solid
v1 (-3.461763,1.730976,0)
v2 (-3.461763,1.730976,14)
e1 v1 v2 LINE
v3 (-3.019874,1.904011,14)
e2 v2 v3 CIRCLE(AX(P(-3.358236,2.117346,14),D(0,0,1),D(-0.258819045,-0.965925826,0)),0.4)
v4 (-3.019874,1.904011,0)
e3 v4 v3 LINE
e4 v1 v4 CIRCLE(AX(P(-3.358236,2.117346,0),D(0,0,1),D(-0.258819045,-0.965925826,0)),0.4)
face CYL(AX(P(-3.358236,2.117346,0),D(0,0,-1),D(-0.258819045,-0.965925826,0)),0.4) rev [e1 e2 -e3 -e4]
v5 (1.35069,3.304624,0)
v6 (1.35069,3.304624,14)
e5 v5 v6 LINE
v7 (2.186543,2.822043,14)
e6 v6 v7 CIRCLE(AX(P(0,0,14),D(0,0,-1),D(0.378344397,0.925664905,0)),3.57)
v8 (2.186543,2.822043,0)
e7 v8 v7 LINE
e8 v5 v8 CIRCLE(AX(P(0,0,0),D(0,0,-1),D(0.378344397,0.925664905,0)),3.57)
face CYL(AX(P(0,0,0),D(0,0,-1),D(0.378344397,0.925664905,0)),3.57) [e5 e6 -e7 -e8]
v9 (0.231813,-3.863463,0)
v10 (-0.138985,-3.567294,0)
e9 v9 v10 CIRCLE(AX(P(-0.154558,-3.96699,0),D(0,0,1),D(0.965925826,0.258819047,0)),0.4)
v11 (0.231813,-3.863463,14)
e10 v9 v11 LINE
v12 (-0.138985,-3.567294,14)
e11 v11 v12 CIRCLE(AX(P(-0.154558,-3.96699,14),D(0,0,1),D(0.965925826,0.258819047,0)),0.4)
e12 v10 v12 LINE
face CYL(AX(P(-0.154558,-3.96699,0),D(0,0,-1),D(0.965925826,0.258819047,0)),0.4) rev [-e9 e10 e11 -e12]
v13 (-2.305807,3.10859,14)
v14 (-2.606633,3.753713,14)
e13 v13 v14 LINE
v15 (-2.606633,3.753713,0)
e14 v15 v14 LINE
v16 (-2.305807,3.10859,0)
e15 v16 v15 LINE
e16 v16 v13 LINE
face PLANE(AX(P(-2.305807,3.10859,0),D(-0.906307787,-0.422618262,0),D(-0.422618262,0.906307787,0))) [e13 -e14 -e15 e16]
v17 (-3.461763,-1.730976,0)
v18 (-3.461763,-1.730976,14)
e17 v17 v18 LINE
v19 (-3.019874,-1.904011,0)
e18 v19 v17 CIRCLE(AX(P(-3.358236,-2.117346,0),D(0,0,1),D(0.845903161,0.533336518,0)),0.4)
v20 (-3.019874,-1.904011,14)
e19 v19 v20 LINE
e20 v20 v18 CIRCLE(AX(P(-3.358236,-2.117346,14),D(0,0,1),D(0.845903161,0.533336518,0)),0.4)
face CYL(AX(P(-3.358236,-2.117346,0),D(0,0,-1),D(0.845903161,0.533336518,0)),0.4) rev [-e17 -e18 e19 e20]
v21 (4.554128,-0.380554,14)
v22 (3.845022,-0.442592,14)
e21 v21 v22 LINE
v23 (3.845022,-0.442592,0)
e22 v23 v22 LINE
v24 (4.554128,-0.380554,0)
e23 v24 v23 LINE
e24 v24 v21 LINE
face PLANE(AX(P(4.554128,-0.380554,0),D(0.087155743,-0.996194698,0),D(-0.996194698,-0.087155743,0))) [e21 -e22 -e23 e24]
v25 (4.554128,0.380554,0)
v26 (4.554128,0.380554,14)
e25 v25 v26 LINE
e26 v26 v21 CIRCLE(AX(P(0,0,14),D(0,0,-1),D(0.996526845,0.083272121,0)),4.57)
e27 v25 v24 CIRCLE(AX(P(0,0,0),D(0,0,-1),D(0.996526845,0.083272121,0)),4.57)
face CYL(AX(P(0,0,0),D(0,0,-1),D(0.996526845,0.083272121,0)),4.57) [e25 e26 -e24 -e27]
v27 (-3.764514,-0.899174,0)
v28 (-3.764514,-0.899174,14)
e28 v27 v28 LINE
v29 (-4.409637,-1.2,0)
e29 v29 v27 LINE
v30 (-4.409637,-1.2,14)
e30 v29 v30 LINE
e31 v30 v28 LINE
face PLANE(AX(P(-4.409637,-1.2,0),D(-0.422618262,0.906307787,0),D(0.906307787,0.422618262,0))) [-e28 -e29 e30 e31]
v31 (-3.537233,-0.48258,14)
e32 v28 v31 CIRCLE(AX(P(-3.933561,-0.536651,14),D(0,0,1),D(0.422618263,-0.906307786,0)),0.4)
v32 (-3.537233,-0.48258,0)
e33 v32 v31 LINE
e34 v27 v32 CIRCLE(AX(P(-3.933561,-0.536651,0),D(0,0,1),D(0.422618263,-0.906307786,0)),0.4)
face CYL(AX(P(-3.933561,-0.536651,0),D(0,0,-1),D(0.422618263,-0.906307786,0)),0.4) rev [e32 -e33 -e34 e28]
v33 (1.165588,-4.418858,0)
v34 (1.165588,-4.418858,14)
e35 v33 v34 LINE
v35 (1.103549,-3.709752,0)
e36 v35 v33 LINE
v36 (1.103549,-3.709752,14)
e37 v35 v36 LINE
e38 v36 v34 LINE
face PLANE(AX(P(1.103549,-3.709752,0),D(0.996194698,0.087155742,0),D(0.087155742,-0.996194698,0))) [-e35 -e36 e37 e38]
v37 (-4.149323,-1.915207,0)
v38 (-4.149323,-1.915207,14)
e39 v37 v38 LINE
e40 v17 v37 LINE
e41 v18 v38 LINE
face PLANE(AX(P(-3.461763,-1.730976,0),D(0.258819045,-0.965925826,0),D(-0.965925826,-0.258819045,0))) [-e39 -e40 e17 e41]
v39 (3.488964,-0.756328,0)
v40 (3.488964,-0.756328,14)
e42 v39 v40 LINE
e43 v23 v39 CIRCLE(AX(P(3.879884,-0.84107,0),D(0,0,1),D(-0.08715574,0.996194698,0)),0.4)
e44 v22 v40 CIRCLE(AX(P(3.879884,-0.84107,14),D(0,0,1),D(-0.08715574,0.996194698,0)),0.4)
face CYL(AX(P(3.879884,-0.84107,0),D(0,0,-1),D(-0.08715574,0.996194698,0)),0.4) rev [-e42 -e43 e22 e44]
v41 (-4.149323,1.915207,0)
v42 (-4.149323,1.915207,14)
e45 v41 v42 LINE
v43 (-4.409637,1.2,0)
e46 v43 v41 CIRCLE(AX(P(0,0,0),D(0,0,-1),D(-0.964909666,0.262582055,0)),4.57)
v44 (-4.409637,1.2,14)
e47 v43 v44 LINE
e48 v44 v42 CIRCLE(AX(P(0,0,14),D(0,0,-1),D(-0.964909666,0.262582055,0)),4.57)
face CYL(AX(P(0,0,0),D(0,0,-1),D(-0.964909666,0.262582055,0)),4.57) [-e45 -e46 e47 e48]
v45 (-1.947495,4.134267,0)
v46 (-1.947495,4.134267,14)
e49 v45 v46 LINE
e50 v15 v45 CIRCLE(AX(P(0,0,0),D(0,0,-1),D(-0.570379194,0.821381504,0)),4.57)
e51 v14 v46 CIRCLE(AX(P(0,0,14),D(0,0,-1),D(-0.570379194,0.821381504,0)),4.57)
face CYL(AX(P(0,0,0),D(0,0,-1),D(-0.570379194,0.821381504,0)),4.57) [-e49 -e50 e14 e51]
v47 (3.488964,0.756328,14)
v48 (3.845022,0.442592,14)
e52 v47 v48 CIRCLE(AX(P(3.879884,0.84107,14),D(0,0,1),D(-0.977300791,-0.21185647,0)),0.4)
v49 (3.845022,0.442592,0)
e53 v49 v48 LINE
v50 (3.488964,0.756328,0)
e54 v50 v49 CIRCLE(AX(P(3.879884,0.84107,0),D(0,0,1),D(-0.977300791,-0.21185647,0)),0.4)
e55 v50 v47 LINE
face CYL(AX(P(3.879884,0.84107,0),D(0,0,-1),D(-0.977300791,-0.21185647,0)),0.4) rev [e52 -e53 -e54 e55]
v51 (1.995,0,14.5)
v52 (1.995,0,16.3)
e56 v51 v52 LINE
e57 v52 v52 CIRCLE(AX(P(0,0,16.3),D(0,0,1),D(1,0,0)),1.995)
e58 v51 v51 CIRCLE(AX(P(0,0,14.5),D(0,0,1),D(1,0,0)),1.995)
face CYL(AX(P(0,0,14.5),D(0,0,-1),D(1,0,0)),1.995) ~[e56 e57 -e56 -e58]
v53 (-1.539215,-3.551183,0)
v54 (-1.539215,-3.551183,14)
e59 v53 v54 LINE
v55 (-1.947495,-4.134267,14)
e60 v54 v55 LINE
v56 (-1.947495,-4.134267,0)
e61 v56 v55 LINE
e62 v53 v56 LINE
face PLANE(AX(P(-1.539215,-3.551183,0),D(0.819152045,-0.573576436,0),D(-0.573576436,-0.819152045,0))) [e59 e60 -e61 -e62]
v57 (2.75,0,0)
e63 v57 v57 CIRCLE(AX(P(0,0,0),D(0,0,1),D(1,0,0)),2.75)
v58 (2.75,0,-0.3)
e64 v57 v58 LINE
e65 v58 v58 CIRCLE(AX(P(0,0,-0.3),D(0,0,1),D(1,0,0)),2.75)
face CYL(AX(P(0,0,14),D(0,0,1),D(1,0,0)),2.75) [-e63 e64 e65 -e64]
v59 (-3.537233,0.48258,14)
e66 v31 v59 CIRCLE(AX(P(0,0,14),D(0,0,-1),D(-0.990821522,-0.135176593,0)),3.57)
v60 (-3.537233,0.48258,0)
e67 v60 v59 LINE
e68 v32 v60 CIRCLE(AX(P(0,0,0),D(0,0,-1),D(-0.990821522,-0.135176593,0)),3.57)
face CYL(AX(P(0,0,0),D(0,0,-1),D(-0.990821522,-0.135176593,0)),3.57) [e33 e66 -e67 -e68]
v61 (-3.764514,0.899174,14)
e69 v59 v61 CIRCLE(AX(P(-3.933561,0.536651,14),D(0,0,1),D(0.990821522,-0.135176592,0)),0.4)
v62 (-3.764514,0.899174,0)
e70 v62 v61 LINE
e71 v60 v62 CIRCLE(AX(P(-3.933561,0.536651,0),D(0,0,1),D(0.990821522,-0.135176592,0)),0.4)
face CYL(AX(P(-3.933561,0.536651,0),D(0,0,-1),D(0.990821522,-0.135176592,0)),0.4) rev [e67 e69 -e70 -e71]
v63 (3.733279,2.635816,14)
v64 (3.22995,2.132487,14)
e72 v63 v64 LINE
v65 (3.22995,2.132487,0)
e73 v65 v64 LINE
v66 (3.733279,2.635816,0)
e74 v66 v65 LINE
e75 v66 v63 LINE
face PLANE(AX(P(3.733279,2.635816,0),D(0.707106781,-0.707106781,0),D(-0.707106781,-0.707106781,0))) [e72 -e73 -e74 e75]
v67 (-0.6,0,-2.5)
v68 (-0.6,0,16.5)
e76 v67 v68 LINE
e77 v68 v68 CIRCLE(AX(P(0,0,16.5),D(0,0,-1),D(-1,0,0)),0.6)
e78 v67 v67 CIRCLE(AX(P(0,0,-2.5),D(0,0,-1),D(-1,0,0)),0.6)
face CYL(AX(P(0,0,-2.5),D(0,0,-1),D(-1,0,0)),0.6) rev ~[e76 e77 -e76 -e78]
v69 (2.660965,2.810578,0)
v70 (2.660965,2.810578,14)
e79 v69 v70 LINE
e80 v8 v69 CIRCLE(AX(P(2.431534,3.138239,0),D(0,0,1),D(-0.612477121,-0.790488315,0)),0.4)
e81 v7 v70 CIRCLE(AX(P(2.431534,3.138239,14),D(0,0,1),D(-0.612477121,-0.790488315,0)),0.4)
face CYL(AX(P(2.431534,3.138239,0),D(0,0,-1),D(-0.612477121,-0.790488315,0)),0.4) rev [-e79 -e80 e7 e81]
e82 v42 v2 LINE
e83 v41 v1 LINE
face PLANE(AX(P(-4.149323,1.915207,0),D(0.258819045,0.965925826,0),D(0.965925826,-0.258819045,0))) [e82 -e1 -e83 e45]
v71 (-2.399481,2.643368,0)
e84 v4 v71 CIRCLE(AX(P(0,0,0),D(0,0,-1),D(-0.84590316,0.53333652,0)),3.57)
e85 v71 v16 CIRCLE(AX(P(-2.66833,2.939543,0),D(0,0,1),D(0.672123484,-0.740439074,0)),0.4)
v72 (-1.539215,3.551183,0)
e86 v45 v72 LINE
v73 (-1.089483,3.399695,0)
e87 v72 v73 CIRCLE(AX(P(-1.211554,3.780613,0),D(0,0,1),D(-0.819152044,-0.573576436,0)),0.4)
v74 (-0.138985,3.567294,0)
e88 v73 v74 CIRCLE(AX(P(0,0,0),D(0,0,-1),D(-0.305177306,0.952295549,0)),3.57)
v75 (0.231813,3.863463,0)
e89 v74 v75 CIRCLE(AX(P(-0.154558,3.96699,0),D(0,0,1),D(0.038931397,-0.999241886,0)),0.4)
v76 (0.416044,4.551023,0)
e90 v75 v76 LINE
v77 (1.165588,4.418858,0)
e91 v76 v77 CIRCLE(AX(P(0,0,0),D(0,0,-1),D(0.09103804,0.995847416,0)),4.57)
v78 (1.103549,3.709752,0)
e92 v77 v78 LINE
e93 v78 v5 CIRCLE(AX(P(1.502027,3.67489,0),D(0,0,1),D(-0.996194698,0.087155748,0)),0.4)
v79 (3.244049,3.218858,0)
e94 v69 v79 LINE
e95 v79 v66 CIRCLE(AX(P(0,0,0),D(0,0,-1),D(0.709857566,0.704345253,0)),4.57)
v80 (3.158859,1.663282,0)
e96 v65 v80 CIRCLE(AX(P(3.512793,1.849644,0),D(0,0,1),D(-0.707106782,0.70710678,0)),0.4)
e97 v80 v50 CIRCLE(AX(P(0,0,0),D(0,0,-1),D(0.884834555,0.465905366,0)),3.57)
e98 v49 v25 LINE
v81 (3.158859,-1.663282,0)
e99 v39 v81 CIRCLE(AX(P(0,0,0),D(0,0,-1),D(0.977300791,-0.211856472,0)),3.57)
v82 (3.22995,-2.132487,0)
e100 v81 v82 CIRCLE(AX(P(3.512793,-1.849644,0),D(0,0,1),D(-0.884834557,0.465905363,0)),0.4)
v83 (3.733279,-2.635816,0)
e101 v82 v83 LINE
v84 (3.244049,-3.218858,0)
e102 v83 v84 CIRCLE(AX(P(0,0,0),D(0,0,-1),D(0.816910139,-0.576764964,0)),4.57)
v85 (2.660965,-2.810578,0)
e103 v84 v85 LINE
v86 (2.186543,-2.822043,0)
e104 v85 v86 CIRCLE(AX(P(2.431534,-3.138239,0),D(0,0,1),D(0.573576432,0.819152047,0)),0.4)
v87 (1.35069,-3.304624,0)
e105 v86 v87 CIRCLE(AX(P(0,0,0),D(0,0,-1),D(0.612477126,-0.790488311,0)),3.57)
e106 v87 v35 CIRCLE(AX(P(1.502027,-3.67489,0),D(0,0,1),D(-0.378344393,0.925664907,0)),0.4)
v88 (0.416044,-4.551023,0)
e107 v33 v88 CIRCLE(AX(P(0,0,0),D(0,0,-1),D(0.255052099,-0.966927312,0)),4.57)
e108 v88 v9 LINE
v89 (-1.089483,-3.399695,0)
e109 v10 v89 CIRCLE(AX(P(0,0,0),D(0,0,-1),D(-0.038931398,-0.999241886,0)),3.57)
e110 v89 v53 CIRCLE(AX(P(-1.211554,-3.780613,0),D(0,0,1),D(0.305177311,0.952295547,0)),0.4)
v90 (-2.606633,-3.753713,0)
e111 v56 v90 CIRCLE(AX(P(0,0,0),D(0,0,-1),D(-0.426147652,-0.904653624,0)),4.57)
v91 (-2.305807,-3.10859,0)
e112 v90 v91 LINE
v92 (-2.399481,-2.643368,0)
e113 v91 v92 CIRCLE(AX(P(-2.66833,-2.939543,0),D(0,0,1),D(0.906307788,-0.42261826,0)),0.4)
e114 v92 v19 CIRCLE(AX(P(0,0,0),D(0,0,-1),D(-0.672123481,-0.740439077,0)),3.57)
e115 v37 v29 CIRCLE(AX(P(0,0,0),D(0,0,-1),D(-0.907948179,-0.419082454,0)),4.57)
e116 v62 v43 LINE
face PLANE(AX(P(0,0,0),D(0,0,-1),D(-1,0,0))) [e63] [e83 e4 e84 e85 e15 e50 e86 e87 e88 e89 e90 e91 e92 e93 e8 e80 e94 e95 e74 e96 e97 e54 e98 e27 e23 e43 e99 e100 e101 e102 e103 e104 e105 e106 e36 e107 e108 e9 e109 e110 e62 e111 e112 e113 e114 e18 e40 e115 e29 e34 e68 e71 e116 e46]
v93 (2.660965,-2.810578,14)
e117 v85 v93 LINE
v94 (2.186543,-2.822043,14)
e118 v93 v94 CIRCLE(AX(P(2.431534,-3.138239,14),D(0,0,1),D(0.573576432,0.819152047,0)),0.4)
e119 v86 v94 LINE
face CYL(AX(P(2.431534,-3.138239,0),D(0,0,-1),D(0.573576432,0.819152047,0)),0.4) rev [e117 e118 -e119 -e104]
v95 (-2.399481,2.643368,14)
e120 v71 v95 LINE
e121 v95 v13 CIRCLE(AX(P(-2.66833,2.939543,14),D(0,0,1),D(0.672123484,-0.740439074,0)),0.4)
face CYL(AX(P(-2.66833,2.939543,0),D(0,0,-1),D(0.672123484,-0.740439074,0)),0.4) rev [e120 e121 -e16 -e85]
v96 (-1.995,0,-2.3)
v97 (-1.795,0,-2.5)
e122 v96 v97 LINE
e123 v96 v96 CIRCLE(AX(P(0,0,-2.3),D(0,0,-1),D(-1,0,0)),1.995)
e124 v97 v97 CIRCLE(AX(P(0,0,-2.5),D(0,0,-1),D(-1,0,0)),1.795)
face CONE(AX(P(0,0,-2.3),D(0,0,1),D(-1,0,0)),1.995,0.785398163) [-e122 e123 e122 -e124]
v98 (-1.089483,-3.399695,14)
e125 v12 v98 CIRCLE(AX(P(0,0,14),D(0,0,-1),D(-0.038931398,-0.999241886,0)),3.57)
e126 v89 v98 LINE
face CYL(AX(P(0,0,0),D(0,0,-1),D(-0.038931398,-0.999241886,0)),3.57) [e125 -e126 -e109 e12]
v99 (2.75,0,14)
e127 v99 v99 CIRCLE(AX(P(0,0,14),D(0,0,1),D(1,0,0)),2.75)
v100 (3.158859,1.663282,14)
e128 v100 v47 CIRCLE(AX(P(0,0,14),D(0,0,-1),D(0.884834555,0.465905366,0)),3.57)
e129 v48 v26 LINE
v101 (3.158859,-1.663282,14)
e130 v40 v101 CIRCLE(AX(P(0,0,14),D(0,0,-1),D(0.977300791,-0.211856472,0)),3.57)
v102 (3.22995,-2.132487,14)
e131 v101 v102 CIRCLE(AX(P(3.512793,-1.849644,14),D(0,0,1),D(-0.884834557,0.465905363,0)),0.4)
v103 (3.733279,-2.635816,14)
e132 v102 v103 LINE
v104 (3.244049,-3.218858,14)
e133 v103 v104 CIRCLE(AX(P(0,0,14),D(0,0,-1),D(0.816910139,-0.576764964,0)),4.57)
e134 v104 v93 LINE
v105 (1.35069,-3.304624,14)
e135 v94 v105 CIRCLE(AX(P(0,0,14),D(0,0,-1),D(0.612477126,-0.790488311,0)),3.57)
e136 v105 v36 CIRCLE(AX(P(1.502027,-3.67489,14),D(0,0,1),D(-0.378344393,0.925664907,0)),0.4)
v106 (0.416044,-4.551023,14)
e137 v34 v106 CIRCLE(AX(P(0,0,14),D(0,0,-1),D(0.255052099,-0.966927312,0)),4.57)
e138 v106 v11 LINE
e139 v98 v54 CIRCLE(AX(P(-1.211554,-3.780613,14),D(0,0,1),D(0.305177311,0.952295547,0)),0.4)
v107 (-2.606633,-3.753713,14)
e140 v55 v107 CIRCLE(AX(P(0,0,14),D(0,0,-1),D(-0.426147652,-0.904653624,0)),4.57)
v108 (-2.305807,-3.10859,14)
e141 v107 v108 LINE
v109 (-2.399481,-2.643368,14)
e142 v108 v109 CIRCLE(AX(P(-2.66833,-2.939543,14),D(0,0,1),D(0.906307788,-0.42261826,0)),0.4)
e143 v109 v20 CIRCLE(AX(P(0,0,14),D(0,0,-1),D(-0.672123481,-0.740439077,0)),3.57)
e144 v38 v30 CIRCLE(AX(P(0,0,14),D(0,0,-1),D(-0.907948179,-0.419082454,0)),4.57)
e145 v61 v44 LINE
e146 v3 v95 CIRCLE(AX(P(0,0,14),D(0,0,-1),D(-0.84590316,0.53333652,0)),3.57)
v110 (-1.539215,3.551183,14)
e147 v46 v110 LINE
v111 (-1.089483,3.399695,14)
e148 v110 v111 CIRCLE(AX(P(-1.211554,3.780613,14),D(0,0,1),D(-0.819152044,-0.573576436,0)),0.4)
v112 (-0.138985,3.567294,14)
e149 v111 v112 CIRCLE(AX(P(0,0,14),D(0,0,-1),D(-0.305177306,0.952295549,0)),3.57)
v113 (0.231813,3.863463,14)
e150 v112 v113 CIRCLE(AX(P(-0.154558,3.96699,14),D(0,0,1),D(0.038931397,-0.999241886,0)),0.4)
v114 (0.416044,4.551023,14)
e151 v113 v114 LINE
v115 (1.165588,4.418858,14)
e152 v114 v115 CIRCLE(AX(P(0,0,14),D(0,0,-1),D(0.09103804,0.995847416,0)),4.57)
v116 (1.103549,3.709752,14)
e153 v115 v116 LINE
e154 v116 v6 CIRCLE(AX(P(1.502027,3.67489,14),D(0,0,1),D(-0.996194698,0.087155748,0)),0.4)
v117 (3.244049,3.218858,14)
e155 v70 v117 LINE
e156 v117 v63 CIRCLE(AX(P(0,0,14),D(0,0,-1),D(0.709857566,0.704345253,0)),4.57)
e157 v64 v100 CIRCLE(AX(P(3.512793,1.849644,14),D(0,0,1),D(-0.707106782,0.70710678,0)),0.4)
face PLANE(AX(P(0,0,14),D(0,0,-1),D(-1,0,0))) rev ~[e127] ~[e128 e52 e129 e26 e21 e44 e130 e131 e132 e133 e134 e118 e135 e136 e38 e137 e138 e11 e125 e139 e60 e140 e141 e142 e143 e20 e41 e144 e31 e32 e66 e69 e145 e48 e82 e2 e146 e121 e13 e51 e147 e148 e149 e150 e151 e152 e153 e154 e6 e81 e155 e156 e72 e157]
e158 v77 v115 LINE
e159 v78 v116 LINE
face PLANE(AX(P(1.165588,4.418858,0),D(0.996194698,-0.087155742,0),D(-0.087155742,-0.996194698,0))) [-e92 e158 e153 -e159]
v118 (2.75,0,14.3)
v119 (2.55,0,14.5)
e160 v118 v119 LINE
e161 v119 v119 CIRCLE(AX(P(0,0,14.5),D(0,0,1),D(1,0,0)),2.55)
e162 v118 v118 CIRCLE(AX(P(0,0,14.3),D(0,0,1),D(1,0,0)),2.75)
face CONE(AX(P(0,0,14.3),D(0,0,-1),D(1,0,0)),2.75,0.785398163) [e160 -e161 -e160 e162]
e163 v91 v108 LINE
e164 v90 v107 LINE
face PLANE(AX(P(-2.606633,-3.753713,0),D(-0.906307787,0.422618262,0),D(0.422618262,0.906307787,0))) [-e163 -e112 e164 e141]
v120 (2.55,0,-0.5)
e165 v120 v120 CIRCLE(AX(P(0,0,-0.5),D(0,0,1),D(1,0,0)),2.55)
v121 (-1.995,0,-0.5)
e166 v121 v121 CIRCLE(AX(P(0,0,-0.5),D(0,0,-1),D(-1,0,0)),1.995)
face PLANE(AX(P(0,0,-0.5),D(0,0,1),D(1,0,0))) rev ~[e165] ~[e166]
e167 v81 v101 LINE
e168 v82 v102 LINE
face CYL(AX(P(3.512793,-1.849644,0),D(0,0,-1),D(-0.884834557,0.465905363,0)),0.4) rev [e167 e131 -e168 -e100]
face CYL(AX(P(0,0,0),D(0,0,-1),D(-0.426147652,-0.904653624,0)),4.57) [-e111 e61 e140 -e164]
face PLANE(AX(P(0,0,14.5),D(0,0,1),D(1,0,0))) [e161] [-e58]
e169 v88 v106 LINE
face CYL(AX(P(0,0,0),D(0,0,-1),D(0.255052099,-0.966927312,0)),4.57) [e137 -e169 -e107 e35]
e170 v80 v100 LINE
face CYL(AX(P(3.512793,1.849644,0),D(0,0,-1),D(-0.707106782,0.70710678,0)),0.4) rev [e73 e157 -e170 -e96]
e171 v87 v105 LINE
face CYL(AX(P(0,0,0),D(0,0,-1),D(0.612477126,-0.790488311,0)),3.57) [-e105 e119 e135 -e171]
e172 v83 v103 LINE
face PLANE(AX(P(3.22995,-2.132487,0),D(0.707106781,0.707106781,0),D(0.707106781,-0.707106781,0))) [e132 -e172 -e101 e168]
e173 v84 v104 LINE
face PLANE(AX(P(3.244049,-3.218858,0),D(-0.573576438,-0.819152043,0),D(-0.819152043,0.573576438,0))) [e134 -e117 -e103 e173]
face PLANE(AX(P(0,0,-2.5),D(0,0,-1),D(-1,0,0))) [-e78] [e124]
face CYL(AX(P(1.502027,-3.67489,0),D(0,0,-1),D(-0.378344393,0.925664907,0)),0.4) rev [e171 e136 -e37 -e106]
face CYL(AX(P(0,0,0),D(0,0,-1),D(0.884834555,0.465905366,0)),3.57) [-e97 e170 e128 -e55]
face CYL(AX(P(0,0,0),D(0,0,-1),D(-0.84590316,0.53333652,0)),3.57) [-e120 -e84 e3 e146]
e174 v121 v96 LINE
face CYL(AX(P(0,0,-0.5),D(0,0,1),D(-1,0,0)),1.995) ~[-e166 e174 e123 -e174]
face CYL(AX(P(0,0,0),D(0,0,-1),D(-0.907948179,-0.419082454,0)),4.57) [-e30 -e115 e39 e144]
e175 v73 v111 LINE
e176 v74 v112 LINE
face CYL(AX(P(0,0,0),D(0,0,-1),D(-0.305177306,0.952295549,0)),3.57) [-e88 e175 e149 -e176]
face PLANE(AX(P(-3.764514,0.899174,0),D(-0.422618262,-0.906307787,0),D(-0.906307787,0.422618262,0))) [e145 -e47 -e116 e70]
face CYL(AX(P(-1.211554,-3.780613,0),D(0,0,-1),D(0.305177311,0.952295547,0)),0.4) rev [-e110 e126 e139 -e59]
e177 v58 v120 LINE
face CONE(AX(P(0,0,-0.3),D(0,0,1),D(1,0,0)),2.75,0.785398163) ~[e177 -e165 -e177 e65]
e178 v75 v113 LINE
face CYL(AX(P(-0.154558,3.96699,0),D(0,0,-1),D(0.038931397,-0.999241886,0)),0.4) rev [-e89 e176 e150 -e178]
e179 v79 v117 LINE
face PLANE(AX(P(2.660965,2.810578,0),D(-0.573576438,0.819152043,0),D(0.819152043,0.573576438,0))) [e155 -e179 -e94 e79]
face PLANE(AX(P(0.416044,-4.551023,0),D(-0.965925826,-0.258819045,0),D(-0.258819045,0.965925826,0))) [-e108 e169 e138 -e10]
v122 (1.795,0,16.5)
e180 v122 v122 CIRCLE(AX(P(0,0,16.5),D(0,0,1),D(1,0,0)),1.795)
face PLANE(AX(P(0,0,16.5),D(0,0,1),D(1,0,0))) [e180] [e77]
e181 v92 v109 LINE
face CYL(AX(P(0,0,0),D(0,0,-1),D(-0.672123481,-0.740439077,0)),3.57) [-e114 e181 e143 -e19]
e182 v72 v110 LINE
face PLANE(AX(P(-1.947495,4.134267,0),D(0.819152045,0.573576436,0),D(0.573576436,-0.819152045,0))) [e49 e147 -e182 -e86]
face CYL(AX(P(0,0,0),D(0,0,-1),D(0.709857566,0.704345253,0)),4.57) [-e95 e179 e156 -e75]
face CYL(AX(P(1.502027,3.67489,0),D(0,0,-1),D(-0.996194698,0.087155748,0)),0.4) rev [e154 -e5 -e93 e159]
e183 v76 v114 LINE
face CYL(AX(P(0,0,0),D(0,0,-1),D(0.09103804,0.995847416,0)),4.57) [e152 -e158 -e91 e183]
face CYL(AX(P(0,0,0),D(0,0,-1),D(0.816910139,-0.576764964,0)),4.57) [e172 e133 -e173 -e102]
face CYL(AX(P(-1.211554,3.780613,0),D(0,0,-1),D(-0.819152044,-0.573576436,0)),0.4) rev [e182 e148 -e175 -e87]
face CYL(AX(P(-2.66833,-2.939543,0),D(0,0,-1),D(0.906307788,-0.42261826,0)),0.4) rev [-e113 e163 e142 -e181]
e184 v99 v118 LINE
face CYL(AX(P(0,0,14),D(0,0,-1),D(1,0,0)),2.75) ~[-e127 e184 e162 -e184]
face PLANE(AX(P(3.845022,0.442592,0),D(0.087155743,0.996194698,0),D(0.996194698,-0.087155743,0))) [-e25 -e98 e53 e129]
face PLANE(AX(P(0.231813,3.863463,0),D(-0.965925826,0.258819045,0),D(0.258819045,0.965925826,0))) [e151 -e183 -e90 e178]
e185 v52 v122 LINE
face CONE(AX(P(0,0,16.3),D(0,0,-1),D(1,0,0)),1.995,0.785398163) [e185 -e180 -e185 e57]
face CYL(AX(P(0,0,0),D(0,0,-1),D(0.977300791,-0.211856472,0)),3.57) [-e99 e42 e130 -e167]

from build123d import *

# Parameters (mm, degrees)
SKETCH2_R           = 2
BOSS_EXTRUDE1_DEPTH = 14
SKETCH3_R           = 2.75
BOSS_EXTRUDE2_DEPTH = 14.5
SKETCH4_R           = 2.75
BOSS_EXTRUDE3_DEPTH = 0.5
SKETCH5_R           = 1.995
BOSS_EXTRUDE4_DEPTH = 2
SKETCH6_R           = 1.995
BOSS_EXTRUDE5_DEPTH = 2
SKETCH7_R           = 0.6
CUT_EXTRUDE1_DEPTH  = 21
CHAMFER1_SIZE       = 0.2


with BuildPart() as part:
    # Sketch2 → Boss-Extrude1 (new body)
    with BuildSketch(Plane.XY):
        with BuildLine():
            Line((-4.409637173, -1.2), (-3.764514138, -0.899174188))
            ThreePointArc((-3.764514138, -0.899174188), (-3.582420347, -0.728223333), (-3.537232834, -0.482580436))
            ThreePointArc((-3.537232834, -0.482580436), (-3.57, 0), (-3.537232834, 0.482580436))
            ThreePointArc((-3.537232834, 0.482580436), (-3.582420347, 0.728223333), (-3.764514138, 0.899174188))
            Line((-3.764514138, 0.899174188), (-4.409637173, 1.2))
            ThreePointArc((-4.409637173, 1.2), (-4.294395277, 1.563032055), (-4.149323184, 1.915206806))
            Line((-4.149323184, 1.915206806), (-3.461763164, 1.730975654))
            ThreePointArc((-3.461763164, 1.730975654), (-3.212386135, 1.744883974), (-3.019874282, 1.904011377))
            ThreePointArc((-3.019874282, 1.904011377), (-2.734778662, 2.294751767), (-2.399480831, 2.6433675))
            ThreePointArc((-2.399480831, 2.6433675), (-2.276200264, 2.860586849), (-2.305807109, 3.108590435))
            Line((-2.305807109, 3.108590435), (-2.606632921, 3.75371347))
            ThreePointArc((-2.606632921, 3.75371347), (-2.285, 3.957736095), (-1.947494763, 4.134267063))
            Line((-1.947494763, 4.134267063), (-1.539214732, 3.55118275))
            ThreePointArc((-1.539214732, 3.55118275), (-1.339240749, 3.401540677), (-1.089482991, 3.399695106))
            ThreePointArc((-1.089482991, 3.399695106), (-0.619923994, 3.515763678), (-0.13898508, 3.567293533))
            ThreePointArc((-0.13898508, 3.567293533), (0.095079219, 3.654449987), (0.231812692, 3.863462669))
            Line((0.231812692, 3.863462669), (0.416043844, 4.551022689))
            ThreePointArc((0.416043844, 4.551022689), (0.793572172, 4.500571431), (1.165588102, 4.418857814))
            Line((1.165588102, 4.418857814), (1.10354938, 3.709751971))
            ThreePointArc((1.10354938, 3.709751971), (1.160550267, 3.466578694), (1.3506895, 3.304623712))
            ThreePointArc((1.3506895, 3.304623712), (1.785, 3.091710692), (2.186543334, 2.822043275))
            ThreePointArc((2.186543334, 2.822043275), (2.421870079, 2.738355361), (2.660964759, 2.810577782))
            Line((2.660964759, 2.810577782), (3.244049071, 3.218857814))
            ThreePointArc((3.244049071, 3.218857814), (3.500823105, 2.937539376), (3.73327934, 2.635815883))
            Line((3.73327934, 2.635815883), (3.229950472, 2.132487015))
            ThreePointArc((3.229950472, 2.132487015), (3.117306916, 1.909566013), (3.158859362, 1.663282156))
            ThreePointArc((3.158859362, 1.663282156), (3.354702656, 1.221011912), (3.488963822, 0.756327606))
            ThreePointArc((3.488963822, 0.756327606), (3.615441013, 0.540953828), (3.845021841, 0.442592316))
            Line((3.845021841, 0.442592316), (4.554127684, 0.380553593))
            ThreePointArc((4.554127684, 0.380553593), (4.57, 0), (4.554127684, -0.380553593))
            Line((4.554127684, -0.380553593), (3.845021841, -0.442592316))
            ThreePointArc((3.845021841, -0.442592316), (3.615441013, -0.540953828), (3.488963822, -0.756327606))
            ThreePointArc((3.488963822, -0.756327606), (3.354702656, -1.221011912), (3.158859362, -1.663282156))
            ThreePointArc((3.158859362, -1.663282156), (3.117306916, -1.909566013), (3.229950472, -2.132487015))
            Line((3.229950472, -2.132487015), (3.73327934, -2.635815883))
            ThreePointArc((3.73327934, -2.635815883), (3.500823105, -2.937539376), (3.244049071, -3.218857814))
            Line((3.244049071, -3.218857814), (2.660964759, -2.810577782))
            ThreePointArc((2.660964759, -2.810577782), (2.421870079, -2.738355361), (2.186543334, -2.822043275))
            ThreePointArc((2.186543334, -2.822043275), (1.785, -3.091710692), (1.3506895, -3.304623712))
            ThreePointArc((1.3506895, -3.304623712), (1.160550267, -3.466578694), (1.10354938, -3.709751971))
            Line((1.10354938, -3.709751971), (1.165588102, -4.418857814))
            ThreePointArc((1.165588102, -4.418857814), (0.793572172, -4.500571431), (0.416043844, -4.551022689))
            Line((0.416043844, -4.551022689), (0.231812692, -3.863462669))
            ThreePointArc((0.231812692, -3.863462669), (0.095079219, -3.654449987), (-0.13898508, -3.567293533))
            ThreePointArc((-0.13898508, -3.567293533), (-0.619923994, -3.515763678), (-1.089482991, -3.399695106))
            ThreePointArc((-1.089482991, -3.399695106), (-1.339240749, -3.401540677), (-1.539214732, -3.55118275))
            Line((-1.539214732, -3.55118275), (-1.947494763, -4.134267063))
            ThreePointArc((-1.947494763, -4.134267063), (-2.285, -3.957736095), (-2.606632921, -3.75371347))
            Line((-2.606632921, -3.75371347), (-2.305807109, -3.108590435))
            ThreePointArc((-2.305807109, -3.108590435), (-2.276200264, -2.860586849), (-2.399480831, -2.6433675))
            ThreePointArc((-2.399480831, -2.6433675), (-2.734778662, -2.294751767), (-3.019874282, -1.904011377))
            ThreePointArc((-3.019874282, -1.904011377), (-3.212386135, -1.744883974), (-3.461763164, -1.730975654))
            Line((-3.461763164, -1.730975654), (-4.149323184, -1.915206806))
            ThreePointArc((-4.149323184, -1.915206806), (-4.294395277, -1.563032055), (-4.409637173, -1.2))
        make_face()
        Circle(SKETCH2_R, mode=Mode.SUBTRACT)
    extrude(amount=BOSS_EXTRUDE1_DEPTH)

    # Sketch3 → Boss-Extrude2 (add)
    with BuildSketch(Plane.XY.offset(14)):
        Circle(SKETCH3_R)
    extrude(amount=-BOSS_EXTRUDE2_DEPTH)

    # Sketch4 → Boss-Extrude3 (add)
    with BuildSketch(Plane.XY.offset(14)):
        Circle(SKETCH4_R)
    extrude(amount=BOSS_EXTRUDE3_DEPTH)

    # Sketch5 → Boss-Extrude4 (add)
    with BuildSketch(Plane.XY.offset(14.5)):
        Circle(SKETCH5_R)
    extrude(amount=BOSS_EXTRUDE4_DEPTH)

    # Sketch6 → Boss-Extrude5 (add)
    with BuildSketch(Plane(origin=(0, 0, -0.5), x_dir=(-1, 0, 0), z_dir=(0, 0, -1))):
        Circle(SKETCH6_R)
    extrude(amount=BOSS_EXTRUDE5_DEPTH)

    # Sketch7 → Cut-Extrude1 (cut)
    with BuildSketch(Plane(origin=(0, 0, -2.5), x_dir=(-1, 0, 0), z_dir=(0, 0, -1))):
        Circle(SKETCH7_R)
    extrude(amount=-CUT_EXTRUDE1_DEPTH, mode=Mode.SUBTRACT)

    # Chamfer1
    chamfer1_edges = [part.edges().sort_by_distance(p)[0] for p in [
        (-2.75, 0, -0.5),
        (-2.75, 0, 14.5),
        (-1.995, 0, 16.5),
        (1.995, 0, -2.5),
    ]]
    chamfer(chamfer1_edges, length=CHAMFER1_SIZE)


solid = part.part
